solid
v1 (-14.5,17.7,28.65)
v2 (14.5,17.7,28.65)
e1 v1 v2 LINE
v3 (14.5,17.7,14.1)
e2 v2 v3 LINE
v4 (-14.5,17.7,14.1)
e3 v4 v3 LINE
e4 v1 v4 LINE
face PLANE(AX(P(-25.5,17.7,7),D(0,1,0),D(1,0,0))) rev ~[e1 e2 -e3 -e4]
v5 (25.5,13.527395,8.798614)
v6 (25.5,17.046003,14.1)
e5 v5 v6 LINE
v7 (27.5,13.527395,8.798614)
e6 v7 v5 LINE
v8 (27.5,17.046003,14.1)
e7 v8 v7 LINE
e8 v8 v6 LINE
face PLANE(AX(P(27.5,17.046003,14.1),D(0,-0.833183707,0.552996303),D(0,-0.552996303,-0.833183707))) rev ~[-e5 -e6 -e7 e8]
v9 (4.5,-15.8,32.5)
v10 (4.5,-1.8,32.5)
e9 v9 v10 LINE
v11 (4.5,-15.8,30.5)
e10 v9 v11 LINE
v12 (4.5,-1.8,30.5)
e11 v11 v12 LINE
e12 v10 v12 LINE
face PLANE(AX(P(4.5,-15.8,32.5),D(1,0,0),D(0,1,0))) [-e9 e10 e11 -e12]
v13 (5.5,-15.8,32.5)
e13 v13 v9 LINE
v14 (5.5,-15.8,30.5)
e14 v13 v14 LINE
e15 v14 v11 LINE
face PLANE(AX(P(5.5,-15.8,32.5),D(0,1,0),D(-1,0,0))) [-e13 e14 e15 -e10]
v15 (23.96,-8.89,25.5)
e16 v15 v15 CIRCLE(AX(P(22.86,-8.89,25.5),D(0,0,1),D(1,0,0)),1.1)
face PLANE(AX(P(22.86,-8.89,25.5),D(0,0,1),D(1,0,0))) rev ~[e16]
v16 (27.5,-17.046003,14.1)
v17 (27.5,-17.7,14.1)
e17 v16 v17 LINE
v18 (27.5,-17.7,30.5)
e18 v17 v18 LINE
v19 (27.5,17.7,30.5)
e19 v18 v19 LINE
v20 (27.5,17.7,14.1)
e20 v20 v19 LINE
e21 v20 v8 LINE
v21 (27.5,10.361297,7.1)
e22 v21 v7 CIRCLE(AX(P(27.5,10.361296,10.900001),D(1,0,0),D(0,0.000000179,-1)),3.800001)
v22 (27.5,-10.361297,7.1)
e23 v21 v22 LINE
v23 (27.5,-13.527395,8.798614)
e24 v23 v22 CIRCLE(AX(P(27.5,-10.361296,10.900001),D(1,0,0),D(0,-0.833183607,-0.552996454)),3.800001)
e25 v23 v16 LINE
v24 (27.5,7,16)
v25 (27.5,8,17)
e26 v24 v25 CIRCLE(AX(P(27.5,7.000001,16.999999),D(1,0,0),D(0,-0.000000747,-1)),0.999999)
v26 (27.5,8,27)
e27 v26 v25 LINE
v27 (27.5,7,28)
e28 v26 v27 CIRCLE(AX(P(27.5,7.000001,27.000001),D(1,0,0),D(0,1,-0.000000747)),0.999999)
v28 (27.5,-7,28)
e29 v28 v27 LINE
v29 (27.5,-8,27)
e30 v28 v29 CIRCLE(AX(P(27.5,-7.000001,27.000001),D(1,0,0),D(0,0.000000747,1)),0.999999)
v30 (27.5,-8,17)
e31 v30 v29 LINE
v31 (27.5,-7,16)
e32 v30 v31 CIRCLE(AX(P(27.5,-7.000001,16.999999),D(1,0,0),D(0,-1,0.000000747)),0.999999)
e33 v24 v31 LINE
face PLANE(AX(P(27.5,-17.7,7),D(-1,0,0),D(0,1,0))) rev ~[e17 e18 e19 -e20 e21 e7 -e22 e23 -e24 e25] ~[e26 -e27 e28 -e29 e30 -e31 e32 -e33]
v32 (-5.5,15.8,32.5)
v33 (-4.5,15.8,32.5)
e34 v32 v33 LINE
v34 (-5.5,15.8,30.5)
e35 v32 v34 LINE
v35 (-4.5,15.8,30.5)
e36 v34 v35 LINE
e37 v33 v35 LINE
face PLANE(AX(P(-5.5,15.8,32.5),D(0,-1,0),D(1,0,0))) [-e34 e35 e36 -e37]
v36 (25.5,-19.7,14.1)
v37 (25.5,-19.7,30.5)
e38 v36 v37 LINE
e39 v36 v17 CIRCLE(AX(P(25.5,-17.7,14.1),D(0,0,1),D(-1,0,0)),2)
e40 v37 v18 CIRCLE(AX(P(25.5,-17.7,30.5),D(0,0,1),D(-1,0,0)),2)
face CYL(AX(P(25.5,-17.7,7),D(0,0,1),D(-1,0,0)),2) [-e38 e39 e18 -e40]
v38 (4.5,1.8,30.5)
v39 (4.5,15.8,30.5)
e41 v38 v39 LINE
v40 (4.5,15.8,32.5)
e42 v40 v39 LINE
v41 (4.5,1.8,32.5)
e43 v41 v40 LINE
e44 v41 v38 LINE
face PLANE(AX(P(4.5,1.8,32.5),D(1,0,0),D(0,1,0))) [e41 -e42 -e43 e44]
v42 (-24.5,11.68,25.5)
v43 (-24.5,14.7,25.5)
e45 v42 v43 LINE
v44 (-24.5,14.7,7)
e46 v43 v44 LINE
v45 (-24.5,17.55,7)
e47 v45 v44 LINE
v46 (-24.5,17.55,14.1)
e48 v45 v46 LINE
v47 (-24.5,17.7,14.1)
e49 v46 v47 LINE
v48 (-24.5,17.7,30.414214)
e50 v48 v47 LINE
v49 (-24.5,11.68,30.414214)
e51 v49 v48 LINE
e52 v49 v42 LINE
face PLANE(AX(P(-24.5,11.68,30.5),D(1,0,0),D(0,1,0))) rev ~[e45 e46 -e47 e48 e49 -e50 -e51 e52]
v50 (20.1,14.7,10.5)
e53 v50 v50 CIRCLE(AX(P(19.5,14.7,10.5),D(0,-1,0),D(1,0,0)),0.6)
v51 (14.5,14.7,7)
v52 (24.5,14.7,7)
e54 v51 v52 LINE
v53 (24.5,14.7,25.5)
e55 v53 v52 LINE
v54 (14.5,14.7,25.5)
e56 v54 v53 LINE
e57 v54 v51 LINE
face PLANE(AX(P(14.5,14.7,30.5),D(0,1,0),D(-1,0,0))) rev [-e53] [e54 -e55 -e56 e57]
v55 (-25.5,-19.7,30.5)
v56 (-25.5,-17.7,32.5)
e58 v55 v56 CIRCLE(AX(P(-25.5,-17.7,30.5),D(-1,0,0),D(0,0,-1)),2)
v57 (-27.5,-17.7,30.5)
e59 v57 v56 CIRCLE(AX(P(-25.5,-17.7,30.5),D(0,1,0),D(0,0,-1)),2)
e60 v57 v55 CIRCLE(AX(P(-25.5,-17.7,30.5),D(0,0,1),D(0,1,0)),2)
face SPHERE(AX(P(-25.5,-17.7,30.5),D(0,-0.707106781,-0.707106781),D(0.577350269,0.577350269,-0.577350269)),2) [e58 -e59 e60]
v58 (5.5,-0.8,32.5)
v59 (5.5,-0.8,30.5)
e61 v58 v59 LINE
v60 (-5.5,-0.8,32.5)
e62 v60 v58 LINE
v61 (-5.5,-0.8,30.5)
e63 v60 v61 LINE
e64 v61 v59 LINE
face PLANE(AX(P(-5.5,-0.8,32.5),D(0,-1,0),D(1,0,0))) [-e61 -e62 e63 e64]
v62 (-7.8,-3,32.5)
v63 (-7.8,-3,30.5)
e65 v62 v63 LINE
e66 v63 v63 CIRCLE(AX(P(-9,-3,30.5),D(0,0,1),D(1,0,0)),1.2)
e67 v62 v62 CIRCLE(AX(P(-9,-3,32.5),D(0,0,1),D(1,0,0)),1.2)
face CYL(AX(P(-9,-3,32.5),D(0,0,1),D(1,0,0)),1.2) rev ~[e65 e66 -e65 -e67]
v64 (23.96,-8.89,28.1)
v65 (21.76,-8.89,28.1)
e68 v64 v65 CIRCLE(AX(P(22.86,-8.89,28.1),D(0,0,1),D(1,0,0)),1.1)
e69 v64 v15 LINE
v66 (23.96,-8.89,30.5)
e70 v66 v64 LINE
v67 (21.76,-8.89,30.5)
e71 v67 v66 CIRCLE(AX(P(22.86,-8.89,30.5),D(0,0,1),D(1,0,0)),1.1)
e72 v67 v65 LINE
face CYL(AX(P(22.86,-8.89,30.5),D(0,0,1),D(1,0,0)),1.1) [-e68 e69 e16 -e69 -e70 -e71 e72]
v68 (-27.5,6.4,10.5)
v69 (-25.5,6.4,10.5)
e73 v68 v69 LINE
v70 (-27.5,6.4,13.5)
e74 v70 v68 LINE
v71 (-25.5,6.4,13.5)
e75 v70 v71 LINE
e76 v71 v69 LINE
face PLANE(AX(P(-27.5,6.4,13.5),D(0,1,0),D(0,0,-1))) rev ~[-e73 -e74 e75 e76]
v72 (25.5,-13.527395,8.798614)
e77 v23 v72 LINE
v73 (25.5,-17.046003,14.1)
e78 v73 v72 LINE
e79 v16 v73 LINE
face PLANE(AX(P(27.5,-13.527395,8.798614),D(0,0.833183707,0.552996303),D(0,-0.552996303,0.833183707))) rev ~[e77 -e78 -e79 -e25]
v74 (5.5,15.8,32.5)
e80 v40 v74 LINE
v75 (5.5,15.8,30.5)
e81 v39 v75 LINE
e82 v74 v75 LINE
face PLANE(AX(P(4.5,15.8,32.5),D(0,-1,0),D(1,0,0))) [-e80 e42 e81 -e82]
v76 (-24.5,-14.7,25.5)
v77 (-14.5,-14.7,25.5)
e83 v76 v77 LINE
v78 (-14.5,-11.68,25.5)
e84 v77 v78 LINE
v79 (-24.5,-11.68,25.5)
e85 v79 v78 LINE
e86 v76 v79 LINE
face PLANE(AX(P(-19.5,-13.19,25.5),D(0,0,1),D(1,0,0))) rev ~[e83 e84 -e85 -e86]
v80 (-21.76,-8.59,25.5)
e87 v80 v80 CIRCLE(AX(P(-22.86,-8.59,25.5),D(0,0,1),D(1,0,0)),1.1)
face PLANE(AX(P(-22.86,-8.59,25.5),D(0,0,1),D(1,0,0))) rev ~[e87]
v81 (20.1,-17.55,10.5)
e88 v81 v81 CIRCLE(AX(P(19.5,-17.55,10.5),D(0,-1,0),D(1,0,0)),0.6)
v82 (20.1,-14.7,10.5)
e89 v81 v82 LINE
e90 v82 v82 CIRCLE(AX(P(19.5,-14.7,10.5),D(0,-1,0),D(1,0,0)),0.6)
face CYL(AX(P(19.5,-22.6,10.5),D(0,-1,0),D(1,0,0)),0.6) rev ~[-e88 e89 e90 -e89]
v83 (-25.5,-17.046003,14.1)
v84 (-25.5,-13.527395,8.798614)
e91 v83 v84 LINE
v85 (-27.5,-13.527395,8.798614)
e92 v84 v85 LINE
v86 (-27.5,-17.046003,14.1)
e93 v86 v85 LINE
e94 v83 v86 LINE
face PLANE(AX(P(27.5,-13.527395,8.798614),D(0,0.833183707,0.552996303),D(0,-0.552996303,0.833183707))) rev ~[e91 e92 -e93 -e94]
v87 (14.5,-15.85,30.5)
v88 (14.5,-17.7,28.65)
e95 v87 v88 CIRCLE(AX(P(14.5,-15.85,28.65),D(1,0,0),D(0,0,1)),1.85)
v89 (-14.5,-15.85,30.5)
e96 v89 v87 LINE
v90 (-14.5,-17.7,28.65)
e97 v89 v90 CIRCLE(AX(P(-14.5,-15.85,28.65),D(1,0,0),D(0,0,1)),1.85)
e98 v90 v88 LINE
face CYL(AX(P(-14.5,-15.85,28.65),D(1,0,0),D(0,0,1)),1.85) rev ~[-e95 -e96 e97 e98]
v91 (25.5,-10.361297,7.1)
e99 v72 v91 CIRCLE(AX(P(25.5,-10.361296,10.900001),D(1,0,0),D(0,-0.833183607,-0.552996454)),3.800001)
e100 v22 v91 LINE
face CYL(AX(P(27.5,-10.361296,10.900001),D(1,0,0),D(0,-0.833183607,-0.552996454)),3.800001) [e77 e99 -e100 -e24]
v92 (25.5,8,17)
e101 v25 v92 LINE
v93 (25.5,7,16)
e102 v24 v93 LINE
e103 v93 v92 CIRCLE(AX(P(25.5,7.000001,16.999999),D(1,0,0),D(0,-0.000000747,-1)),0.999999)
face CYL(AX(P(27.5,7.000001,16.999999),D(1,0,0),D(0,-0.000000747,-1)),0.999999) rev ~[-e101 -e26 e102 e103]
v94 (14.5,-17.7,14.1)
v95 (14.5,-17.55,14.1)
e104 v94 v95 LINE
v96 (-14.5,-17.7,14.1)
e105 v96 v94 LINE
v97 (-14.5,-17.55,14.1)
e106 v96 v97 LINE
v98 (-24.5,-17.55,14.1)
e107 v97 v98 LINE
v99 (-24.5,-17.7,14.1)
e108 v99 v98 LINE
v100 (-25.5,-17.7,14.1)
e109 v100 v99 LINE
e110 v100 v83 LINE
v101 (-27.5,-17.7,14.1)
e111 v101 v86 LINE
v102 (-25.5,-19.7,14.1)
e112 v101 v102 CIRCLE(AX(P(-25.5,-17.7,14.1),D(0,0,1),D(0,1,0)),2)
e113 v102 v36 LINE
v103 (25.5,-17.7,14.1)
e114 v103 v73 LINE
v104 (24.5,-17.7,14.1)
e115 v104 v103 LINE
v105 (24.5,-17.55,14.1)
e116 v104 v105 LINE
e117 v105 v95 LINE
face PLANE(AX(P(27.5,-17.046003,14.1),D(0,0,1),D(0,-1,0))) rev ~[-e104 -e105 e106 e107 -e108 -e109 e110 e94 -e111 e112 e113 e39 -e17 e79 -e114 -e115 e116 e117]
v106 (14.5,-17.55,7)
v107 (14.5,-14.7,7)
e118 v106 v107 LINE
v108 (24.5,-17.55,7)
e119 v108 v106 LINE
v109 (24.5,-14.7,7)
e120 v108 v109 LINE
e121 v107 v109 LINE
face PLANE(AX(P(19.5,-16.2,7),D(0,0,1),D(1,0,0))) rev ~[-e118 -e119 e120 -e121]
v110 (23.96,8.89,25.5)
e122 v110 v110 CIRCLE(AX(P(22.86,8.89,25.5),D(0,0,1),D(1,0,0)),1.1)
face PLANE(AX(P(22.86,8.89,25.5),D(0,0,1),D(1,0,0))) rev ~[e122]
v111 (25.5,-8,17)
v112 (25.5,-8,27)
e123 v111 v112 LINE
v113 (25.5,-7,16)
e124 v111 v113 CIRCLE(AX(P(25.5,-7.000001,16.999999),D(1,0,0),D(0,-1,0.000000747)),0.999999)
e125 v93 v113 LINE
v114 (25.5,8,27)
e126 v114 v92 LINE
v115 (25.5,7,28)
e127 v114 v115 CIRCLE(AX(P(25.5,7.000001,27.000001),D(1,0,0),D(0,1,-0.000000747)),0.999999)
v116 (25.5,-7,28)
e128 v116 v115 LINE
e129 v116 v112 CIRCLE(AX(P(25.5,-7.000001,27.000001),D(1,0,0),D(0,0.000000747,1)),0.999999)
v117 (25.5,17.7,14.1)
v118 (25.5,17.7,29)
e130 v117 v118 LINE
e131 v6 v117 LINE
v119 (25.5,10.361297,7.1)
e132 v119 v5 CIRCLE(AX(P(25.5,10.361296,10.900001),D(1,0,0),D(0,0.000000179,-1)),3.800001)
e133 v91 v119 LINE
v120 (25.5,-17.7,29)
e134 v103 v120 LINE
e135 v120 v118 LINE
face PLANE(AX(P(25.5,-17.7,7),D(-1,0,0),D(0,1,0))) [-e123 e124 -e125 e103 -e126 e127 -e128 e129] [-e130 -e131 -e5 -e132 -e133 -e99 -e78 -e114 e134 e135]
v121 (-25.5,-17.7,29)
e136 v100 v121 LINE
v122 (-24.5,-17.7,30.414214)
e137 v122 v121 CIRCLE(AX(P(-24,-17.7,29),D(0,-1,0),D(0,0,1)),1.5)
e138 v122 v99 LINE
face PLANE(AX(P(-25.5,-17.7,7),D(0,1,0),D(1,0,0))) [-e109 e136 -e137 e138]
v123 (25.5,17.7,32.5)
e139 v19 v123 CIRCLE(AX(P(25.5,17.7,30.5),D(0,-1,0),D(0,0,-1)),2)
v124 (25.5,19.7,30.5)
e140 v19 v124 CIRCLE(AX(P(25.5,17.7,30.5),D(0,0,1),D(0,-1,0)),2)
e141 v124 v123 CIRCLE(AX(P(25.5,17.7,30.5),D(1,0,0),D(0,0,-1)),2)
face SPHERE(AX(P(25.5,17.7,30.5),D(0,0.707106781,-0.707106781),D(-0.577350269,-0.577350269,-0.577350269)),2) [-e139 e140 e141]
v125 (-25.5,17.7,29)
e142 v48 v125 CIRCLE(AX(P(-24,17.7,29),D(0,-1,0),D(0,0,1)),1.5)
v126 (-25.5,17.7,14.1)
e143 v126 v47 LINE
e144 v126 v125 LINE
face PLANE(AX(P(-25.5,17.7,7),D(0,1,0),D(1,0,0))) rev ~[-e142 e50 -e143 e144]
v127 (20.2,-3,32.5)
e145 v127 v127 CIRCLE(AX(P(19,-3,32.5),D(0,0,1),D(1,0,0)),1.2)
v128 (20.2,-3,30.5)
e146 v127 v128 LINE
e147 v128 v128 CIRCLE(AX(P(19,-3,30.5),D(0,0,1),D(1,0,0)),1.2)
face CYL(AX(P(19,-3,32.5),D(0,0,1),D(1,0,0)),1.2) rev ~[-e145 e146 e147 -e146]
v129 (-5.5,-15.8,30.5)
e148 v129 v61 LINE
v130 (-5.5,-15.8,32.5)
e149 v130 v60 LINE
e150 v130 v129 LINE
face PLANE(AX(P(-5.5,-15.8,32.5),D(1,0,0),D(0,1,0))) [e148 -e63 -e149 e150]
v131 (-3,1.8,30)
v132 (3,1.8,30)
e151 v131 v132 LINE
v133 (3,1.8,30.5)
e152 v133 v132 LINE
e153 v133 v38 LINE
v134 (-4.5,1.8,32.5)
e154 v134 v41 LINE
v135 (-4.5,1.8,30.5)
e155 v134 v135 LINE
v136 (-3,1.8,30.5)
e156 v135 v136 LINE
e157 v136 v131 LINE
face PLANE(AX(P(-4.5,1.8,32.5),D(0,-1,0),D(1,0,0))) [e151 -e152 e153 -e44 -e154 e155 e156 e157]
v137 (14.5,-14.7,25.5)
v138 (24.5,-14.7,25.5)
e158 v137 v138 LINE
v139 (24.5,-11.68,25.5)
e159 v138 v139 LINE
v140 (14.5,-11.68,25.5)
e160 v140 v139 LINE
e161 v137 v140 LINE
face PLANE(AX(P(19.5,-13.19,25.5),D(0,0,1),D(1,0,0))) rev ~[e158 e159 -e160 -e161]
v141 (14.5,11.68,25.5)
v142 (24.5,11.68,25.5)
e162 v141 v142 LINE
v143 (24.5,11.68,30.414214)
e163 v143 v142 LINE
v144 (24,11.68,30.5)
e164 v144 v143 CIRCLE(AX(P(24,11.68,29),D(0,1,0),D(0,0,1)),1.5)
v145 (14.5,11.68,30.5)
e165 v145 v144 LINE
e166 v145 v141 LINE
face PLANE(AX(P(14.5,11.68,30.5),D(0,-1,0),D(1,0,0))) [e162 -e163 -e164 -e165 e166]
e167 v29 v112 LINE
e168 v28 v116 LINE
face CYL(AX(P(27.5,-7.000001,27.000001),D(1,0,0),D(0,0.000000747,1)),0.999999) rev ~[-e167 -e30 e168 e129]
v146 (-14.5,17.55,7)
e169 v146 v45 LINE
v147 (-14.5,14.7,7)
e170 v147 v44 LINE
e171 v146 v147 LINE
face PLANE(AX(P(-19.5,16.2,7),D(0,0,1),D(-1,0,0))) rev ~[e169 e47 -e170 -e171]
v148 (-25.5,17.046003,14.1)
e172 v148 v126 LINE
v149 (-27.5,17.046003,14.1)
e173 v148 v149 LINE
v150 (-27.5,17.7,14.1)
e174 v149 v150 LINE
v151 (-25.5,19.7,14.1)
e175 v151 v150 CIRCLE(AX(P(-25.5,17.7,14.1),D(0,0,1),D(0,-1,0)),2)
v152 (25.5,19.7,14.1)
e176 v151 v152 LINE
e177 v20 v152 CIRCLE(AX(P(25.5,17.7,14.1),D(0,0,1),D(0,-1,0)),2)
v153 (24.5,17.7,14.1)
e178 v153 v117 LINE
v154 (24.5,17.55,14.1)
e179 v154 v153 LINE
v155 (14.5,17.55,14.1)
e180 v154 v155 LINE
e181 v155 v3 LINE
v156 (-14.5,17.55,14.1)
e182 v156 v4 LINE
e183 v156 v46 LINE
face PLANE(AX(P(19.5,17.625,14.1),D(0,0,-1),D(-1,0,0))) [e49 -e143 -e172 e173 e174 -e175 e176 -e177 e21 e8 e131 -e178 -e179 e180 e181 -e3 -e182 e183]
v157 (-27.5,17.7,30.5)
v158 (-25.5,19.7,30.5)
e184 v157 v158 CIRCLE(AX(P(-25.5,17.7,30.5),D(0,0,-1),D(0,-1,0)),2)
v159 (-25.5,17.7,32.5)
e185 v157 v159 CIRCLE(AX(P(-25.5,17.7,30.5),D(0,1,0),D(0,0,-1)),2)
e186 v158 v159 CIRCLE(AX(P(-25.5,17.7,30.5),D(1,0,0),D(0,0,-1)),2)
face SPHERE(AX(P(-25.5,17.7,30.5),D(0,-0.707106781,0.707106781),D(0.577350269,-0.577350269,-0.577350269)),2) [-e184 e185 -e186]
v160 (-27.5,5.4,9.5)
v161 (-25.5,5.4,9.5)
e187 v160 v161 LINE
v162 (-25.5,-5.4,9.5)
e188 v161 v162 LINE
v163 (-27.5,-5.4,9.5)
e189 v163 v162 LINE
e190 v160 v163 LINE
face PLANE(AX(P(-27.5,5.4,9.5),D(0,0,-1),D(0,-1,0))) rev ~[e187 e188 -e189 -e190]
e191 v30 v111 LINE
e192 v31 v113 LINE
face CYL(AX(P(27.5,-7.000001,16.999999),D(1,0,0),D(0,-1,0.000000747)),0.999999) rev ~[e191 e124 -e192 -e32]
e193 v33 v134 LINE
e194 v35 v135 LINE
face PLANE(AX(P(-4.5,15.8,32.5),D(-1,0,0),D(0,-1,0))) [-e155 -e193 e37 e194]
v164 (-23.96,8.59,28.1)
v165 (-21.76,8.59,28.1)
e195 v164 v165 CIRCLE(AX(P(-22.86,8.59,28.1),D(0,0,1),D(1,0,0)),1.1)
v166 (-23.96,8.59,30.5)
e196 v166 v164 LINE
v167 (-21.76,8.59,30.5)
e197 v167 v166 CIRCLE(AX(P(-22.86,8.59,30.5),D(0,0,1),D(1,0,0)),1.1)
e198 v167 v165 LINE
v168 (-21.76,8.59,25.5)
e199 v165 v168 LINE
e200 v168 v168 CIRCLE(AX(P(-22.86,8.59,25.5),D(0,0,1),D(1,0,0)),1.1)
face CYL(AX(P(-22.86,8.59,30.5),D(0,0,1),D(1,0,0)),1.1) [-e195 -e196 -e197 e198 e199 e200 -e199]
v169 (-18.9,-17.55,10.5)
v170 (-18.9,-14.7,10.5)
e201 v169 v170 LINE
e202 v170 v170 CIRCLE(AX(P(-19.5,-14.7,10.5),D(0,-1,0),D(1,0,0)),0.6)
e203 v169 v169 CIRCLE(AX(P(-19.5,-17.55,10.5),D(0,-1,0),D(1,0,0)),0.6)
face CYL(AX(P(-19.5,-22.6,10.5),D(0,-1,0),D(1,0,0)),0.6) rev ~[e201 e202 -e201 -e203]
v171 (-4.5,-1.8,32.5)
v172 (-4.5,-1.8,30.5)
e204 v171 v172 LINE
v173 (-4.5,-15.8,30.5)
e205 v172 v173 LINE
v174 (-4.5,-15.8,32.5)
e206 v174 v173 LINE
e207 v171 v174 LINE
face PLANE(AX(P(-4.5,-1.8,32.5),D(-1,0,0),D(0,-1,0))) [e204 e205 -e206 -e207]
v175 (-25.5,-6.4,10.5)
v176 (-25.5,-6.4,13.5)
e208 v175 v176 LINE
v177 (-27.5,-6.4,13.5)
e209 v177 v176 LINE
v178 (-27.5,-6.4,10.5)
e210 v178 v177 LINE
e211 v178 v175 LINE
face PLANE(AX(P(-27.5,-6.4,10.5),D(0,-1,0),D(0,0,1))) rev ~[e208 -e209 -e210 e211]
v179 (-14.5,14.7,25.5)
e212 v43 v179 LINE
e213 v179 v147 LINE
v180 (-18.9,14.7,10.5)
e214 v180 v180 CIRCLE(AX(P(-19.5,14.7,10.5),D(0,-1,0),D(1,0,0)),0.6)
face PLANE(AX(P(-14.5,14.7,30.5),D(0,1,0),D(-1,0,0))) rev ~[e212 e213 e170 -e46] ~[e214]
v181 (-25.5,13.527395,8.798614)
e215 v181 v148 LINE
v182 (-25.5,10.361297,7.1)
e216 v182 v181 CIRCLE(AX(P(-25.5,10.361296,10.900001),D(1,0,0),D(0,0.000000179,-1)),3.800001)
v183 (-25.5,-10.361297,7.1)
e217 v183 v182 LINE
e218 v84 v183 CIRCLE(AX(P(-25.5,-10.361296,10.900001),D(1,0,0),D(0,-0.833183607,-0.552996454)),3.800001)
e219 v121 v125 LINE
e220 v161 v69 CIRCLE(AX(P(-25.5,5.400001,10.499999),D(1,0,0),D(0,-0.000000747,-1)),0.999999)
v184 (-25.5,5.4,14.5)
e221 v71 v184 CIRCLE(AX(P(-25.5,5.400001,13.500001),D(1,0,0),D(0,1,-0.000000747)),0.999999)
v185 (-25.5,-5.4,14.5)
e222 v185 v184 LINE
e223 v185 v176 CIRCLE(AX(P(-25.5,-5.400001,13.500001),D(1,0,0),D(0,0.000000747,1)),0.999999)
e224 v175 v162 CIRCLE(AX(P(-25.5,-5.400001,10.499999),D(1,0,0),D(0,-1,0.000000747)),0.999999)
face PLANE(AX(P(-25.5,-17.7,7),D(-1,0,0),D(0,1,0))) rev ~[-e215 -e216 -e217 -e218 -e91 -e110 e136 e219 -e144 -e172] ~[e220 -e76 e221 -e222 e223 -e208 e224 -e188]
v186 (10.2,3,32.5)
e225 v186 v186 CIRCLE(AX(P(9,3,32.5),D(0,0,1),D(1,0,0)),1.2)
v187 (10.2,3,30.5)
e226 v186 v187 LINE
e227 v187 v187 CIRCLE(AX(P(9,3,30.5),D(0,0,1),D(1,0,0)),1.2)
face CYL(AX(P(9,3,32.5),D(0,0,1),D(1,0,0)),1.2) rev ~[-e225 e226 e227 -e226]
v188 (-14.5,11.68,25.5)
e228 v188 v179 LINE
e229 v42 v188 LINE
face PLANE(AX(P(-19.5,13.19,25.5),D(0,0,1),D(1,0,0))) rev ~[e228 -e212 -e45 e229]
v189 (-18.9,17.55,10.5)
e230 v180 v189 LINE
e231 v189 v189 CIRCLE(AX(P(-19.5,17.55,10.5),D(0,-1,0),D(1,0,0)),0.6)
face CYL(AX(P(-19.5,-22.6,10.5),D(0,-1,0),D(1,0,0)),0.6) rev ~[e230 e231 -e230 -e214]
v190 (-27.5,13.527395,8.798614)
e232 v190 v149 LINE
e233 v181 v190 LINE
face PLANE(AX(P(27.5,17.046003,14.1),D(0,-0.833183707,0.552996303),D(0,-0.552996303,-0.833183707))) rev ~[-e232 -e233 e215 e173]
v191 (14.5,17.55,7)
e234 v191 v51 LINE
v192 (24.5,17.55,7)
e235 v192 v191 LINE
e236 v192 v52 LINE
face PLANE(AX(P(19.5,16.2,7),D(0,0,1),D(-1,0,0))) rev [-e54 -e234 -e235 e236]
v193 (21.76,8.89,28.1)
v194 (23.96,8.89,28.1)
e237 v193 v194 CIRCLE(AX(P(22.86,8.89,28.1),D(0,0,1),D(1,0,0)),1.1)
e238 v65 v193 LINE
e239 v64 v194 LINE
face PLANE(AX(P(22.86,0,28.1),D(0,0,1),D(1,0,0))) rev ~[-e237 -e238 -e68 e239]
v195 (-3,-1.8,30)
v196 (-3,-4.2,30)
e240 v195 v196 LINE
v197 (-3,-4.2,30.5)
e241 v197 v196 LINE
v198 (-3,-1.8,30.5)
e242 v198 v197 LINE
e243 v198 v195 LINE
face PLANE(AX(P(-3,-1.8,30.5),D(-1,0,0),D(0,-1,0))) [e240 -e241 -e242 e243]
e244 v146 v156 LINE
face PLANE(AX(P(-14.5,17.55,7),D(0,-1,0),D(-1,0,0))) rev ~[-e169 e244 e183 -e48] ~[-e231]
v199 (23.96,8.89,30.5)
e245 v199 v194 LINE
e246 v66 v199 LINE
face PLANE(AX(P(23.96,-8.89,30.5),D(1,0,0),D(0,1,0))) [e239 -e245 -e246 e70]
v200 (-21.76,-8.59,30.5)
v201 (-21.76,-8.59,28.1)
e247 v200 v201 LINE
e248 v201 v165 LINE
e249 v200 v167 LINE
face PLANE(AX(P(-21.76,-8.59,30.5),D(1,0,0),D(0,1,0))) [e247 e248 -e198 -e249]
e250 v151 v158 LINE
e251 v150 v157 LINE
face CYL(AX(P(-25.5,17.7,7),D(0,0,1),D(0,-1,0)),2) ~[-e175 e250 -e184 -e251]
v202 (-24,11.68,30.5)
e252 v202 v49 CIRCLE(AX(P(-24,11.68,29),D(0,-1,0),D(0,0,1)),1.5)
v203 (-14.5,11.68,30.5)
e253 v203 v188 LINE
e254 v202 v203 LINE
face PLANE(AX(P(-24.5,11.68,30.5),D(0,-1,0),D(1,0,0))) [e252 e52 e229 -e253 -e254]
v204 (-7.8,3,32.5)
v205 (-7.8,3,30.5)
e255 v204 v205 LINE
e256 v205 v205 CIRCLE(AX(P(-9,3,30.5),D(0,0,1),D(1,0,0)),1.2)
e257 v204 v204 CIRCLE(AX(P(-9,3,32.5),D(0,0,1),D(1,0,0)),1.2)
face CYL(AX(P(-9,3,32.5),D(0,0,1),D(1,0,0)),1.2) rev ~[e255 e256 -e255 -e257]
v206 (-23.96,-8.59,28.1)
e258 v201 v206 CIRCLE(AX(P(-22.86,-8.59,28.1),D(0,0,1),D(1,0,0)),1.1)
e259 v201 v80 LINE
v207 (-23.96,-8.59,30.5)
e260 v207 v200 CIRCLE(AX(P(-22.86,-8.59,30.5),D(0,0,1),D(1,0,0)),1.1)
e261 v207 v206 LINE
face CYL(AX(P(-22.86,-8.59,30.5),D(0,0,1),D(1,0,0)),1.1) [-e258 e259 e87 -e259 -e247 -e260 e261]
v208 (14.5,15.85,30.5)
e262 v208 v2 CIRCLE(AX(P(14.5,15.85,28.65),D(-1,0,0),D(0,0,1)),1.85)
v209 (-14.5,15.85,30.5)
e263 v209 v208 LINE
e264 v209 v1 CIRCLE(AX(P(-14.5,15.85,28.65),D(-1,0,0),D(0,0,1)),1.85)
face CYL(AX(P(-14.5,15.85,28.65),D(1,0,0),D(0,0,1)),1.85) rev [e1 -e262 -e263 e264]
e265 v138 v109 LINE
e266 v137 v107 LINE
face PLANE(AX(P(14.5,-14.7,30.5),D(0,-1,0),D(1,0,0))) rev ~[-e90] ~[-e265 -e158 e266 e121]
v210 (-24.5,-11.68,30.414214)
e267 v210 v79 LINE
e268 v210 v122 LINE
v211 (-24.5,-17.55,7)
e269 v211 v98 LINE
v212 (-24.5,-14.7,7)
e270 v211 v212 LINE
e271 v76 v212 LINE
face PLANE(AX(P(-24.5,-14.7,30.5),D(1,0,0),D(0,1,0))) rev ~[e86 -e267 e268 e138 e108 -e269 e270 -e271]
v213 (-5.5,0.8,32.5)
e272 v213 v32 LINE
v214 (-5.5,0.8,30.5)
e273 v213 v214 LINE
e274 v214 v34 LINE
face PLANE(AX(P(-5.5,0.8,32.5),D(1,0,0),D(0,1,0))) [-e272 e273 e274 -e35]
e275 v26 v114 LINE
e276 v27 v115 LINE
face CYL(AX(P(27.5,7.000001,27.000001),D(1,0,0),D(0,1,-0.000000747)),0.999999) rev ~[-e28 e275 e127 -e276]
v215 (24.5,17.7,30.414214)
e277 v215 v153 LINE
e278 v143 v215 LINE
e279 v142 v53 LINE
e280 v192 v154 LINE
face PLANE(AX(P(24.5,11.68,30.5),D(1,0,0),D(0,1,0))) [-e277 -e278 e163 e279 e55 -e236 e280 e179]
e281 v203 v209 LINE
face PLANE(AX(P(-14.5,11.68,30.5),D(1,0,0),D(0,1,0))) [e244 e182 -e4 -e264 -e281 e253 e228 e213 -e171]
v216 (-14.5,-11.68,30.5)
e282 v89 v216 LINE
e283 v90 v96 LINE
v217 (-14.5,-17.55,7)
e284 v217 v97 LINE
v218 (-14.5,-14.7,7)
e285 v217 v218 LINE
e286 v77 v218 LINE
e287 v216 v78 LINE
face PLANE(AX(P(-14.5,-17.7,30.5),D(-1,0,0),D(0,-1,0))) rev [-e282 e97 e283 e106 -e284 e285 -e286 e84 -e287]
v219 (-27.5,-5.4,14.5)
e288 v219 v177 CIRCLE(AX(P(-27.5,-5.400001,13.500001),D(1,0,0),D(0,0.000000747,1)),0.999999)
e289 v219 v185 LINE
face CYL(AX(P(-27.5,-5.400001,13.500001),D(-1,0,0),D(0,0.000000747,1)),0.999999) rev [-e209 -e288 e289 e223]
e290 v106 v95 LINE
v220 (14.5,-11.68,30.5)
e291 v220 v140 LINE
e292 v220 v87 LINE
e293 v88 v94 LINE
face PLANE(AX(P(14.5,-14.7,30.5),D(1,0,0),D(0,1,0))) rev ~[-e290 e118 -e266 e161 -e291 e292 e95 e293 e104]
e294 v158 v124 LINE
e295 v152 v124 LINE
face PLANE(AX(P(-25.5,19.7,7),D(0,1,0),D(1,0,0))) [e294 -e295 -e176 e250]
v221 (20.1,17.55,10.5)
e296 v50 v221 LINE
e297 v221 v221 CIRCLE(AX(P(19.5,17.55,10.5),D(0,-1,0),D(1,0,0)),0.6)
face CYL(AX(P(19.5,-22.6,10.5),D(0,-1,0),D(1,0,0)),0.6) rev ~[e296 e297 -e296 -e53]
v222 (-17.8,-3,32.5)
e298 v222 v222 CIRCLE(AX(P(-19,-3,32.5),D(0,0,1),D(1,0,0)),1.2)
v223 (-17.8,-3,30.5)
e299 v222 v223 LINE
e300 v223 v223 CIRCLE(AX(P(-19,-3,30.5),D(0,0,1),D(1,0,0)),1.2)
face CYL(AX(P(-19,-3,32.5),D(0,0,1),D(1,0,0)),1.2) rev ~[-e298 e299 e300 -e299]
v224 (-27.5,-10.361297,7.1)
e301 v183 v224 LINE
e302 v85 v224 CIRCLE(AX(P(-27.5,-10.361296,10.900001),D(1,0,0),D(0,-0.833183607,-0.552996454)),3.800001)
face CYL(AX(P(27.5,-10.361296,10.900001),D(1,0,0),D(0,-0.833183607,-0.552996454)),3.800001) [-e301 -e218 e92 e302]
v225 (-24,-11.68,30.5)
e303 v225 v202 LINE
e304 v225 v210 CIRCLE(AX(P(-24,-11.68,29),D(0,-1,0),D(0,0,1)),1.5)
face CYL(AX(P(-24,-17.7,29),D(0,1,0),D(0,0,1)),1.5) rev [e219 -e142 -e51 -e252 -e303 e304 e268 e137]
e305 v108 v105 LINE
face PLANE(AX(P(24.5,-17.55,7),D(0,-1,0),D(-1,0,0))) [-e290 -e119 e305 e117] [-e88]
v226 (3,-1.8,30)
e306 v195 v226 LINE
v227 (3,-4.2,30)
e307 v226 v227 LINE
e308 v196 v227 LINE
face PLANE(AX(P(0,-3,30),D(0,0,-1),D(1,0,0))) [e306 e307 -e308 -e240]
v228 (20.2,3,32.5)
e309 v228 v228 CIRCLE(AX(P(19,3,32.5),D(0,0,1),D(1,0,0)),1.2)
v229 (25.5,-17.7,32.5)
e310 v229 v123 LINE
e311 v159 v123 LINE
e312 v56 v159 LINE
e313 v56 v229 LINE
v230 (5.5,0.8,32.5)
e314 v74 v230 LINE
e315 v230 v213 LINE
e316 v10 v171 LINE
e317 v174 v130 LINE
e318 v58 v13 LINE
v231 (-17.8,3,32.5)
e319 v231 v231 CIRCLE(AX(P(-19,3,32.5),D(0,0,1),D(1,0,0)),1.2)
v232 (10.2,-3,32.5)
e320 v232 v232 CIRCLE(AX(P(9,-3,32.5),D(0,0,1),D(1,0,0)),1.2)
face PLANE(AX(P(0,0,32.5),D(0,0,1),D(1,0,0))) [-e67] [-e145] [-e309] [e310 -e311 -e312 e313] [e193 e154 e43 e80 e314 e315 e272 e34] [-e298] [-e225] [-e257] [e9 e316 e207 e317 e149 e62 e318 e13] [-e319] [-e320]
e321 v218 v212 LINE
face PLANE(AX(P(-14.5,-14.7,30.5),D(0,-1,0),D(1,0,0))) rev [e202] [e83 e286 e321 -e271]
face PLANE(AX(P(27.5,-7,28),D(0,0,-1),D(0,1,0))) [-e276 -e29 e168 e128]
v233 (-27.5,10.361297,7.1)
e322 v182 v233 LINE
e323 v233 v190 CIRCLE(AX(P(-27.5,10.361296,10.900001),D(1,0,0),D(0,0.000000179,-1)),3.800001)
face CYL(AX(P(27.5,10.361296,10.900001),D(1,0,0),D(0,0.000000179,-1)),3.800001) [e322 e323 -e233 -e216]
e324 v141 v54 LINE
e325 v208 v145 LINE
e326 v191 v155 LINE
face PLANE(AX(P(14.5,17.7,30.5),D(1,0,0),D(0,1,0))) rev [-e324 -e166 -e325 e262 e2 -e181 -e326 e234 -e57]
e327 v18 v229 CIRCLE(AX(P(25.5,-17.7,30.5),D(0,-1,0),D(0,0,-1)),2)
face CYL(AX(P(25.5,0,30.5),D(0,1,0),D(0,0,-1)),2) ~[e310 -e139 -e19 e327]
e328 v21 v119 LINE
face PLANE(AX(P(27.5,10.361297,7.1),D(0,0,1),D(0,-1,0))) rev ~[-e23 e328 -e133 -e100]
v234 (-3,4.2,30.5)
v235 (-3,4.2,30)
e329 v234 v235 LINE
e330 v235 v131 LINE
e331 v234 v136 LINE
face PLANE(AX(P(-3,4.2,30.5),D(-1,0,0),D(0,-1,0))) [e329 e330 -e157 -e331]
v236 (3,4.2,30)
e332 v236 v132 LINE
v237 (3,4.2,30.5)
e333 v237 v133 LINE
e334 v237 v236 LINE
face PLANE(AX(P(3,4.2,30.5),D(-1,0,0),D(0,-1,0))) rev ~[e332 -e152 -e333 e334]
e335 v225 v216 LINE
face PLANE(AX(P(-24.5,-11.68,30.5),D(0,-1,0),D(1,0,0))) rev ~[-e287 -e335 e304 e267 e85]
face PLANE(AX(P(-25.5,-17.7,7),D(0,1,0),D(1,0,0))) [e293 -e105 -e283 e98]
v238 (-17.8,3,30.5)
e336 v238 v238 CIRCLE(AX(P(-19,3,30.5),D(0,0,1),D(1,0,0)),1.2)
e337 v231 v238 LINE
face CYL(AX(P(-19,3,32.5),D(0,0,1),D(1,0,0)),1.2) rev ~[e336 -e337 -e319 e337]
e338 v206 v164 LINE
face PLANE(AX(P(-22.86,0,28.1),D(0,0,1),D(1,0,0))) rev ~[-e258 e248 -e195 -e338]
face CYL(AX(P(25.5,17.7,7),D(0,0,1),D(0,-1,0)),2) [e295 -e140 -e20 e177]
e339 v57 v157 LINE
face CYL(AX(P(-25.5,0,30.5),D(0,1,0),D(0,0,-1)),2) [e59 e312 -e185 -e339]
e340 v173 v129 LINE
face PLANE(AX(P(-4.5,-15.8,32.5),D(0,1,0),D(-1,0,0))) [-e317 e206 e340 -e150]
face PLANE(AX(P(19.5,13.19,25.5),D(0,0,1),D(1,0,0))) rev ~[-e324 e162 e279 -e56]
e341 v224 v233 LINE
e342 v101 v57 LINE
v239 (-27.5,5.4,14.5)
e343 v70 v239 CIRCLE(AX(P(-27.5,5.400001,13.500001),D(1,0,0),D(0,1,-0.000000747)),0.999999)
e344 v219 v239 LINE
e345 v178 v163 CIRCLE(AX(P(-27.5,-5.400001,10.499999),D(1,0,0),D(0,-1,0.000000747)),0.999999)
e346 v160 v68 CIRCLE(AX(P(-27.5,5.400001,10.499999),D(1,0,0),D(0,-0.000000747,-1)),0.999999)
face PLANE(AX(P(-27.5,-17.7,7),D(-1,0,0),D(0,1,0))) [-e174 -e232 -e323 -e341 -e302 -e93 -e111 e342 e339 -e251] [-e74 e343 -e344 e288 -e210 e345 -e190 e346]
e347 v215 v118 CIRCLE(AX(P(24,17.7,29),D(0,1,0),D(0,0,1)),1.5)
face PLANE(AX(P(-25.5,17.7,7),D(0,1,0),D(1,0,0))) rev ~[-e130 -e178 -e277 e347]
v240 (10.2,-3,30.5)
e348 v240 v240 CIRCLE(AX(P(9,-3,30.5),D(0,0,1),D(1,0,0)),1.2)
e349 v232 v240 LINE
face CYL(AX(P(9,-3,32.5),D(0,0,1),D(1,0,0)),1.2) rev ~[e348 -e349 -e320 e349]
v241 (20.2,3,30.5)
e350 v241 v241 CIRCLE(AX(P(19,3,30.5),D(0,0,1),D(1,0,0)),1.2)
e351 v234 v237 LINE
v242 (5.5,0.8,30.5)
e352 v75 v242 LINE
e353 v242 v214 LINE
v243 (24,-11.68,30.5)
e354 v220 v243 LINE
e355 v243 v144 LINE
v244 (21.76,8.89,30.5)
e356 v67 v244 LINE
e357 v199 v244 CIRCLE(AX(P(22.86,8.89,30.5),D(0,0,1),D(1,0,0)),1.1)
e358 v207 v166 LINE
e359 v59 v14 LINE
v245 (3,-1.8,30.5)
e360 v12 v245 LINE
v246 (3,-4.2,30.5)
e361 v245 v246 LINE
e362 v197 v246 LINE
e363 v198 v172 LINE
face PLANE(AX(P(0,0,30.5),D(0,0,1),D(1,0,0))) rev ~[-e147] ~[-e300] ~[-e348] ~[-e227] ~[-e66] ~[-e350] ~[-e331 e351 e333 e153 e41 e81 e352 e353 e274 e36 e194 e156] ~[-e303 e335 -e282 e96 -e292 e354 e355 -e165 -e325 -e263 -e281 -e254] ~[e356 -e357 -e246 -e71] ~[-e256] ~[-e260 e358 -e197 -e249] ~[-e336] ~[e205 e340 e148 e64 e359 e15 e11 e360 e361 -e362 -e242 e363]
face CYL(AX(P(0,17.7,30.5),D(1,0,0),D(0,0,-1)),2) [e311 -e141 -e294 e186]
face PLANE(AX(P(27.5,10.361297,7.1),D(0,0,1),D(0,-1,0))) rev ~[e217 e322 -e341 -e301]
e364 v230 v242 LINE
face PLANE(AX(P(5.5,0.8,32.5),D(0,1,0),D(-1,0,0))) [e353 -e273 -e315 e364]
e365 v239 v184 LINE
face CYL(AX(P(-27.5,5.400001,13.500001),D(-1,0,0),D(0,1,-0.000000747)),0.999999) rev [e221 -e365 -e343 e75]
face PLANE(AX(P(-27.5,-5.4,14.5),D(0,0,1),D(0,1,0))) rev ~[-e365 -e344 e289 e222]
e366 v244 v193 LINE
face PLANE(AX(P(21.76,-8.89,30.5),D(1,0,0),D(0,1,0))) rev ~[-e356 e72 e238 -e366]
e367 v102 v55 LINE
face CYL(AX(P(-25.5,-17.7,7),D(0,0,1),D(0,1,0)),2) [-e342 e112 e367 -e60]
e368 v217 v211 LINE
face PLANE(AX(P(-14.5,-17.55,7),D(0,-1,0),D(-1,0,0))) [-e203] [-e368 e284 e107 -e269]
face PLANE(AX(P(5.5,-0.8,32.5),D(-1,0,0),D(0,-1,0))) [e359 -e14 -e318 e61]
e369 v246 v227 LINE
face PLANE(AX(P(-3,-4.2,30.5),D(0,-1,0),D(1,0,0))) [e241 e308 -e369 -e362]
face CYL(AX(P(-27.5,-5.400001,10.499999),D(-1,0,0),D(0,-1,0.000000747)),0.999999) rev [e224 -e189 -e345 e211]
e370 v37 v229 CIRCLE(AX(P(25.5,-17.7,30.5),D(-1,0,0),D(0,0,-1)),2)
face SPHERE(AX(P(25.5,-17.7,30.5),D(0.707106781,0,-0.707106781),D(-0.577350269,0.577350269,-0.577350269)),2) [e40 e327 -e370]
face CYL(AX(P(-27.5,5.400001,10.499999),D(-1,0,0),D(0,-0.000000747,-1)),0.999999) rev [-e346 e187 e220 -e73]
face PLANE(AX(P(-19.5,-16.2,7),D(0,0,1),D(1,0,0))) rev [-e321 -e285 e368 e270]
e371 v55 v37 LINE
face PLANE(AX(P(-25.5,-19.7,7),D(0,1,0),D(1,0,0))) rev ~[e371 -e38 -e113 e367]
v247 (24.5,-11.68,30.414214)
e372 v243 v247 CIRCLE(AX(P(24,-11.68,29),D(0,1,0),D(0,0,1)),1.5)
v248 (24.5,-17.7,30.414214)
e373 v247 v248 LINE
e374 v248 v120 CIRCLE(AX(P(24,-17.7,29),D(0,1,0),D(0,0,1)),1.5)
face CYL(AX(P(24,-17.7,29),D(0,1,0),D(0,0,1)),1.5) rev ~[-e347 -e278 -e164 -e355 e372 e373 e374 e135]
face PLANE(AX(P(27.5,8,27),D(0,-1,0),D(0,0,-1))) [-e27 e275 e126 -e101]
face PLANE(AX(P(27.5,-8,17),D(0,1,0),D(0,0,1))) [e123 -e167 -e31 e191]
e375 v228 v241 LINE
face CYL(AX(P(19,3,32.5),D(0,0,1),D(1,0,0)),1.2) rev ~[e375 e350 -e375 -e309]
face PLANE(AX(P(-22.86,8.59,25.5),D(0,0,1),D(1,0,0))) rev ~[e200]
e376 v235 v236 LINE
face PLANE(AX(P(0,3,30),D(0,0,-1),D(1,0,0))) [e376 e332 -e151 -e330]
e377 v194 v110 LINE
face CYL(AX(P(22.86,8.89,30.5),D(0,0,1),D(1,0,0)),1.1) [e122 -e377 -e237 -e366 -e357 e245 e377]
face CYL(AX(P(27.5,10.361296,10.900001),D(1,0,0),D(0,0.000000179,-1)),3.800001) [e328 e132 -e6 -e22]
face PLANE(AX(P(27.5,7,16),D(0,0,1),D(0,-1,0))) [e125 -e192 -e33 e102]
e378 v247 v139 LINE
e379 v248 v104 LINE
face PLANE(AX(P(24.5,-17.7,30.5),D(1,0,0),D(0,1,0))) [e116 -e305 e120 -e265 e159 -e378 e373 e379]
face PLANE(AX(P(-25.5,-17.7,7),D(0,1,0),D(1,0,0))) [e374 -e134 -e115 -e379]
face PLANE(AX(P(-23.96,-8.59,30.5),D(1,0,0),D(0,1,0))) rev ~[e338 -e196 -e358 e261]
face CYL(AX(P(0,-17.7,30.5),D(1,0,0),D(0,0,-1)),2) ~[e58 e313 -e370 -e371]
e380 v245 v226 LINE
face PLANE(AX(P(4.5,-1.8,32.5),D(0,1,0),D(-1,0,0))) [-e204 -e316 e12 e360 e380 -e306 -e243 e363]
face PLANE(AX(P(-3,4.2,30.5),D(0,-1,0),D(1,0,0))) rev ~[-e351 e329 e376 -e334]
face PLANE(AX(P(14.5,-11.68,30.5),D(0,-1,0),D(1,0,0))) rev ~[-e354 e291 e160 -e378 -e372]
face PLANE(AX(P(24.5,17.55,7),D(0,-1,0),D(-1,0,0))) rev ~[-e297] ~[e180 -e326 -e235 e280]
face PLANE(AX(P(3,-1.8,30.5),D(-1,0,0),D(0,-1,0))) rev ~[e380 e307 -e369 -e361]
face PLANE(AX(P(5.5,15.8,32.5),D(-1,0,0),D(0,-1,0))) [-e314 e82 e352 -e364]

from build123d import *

# Parameters (mm, degrees)
SKETCH004_W                 = 51
SKETCH004_H                 = 35.4
PAD002_DEPTH                = 23.5
THICKNESS001_T              = 2
POCKET002_DEPTH             = 55.001
POCKET003_DEPTH             = 2
POCKET004_DEPTH             = 2
POCKET005_DEPTH             = 2
SKETCH009_W                 = 6
SKETCH009_H                 = 2.4
PAD003_DEPTH                = 0.5
SKETCH010_R                 = 1.2
POCKET006_DEPTH             = 2
SKETCH011_W                 = 10
SKETCH011_H                 = 3
PAD004_DEPTH                = 23.5
SKETCH011_POLARPATTERN_2_W  = 10
SKETCH011_POLARPATTERN_2_H  = 3
PAD004_POLARPATTERN_2_DEPTH = 23.5
SKETCH022_W                 = 10
SKETCH022_H                 = 0.15
POCKET013_DEPTH             = 7.1
SKETCH013_R                 = 1.1
SKETCH013_W                 = 10
SKETCH013_H                 = 3.02
PAD005_DEPTH                = 5
SKETCH014_W                 = 2.2
SKETCH014_H                 = 17.18
SKETCH014_H_2               = 17.78
PAD006_DEPTH                = 2.4
SKETCH019_R                 = 0.6
POCKET010_DEPTH             = 42.301
FILLET001_R                 = 1.85
FILLET002_R                 = 1.5


with BuildPart() as part:
    # Sketch004 → Pad002 (new body)
    with BuildSketch(Plane.XY):
        Rectangle(SKETCH004_W, SKETCH004_H)
    extrude(amount=PAD002_DEPTH)

    # Thickness001
    thickness001_openings = [part.faces().sort_by_distance(p)[0] for p in [
        (0, 0, 0),
    ]]
    offset(amount=THICKNESS001_T, openings=thickness001_openings)

    # Sketch005 (on DatumPlane) → Pocket002 (cut, through all)
    with BuildSketch(Plane.YZ.offset(27.5)):
        with BuildLine():
            Line((17.046003, 7.1), (13.527395, 1.798614))
            ThreePointArc((10.361297, 0.1), (12.157784, 0.551473), (13.527395, 1.798614))
            Line((10.361297, 0.1), (-10.361297, 0.1))
            ThreePointArc((-13.527395, 1.798614), (-12.157784, 0.551473), (-10.361297, 0.1))
            Line((-13.527395, 1.798614), (-17.046003, 7.1))
            Line((-17.046003, 7.1), (-40, 7.1))
            Line((-40, 7.1), (-40, -32.9))
            Line((-40, -32.9), (40, -32.9))
            Line((40, -32.9), (40, 7.1))
            Line((40, 7.1), (17.046003, 7.1))
        make_face()
    extrude(amount=-POCKET002_DEPTH, mode=Mode.SUBTRACT)

    # Sketch006 (on DatumPlane) → Pocket003 (cut)
    with BuildSketch(Plane.YZ.offset(-27.5)):
        with BuildLine():
            ThreePointArc((6.4, 6.5), (6.107107, 7.207107), (5.4, 7.5))
            Line((-5.4, 7.5), (5.4, 7.5))
            ThreePointArc((-5.4, 7.5), (-6.107107, 7.207107), (-6.4, 6.5))
            Line((-6.4, 3.5), (-6.4, 6.5))
            ThreePointArc((-6.4, 3.5), (-6.107107, 2.792893), (-5.4, 2.5))
            Line((5.4, 2.5), (-5.4, 2.5))
            ThreePointArc((5.4, 2.5), (6.107107, 2.792893), (6.4, 3.5))
            Line((6.4, 6.5), (6.4, 3.5))
        make_face()
    extrude(amount=POCKET003_DEPTH, mode=Mode.SUBTRACT)

    # Sketch007 (on DatumPlane) → Pocket004 (cut)
    with BuildSketch(Plane.YZ.offset(27.5)):
        with BuildLine():
            ThreePointArc((-7, 21), (-7.707107, 20.707107), (-8, 20))
            Line((-8, 10), (-8, 20))
            ThreePointArc((-8, 10), (-7.707107, 9.292893), (-7, 9))
            Line((7, 9), (-7, 9))
            ThreePointArc((7, 9), (7.707107, 9.292893), (8, 10))
            Line((8, 20), (8, 10))
            ThreePointArc((8, 20), (7.707107, 20.707107), (7, 21))
            Line((-7, 21), (7, 21))
        make_face()
    extrude(amount=-POCKET004_DEPTH, mode=Mode.SUBTRACT)

    # Sketch008 (on DatumPlane) → Pocket005 (cut)
    with BuildSketch(Plane.XY.offset(25.5)):
        Polygon((-5.5, 15.8), (-4.5, 15.8), (-4.5, 1.8), (4.5, 1.8), (4.5, 15.8), (5.5, 15.8), (5.5, 0.8), (-5.5, 0.8), align=None)
        Polygon((-5.5, -0.8), (5.5, -0.8), (5.5, -15.8), (4.5, -15.8), (4.5, -1.8), (-4.5, -1.8), (-4.5, -15.8), (-5.5, -15.8), align=None)
    extrude(amount=-POCKET005_DEPTH, mode=Mode.SUBTRACT)

    # Sketch009 (on Face4 of Pocket005) → Pad003 (join)
    with BuildSketch(Plane(origin=(0, 0, 23.5), x_dir=(1, 0, 0), z_dir=(0, 0, -1))):
        with Locations((0, -3)):
            Rectangle(SKETCH009_W, SKETCH009_H)
        with Locations((0, 3)):
            Rectangle(SKETCH009_W, SKETCH009_H)
    extrude(amount=PAD003_DEPTH)

    # Sketch010 (on DatumPlane) → Pocket006 (cut)
    with BuildSketch(Plane.XY.offset(25.5)):
        with Locations((19, 3)):
            Circle(SKETCH010_R)
        with Locations((9, 3)):
            Circle(SKETCH010_R)
        with Locations((-9, 3)):
            Circle(SKETCH010_R)
        with Locations((-19, 3)):
            Circle(SKETCH010_R)
        with Locations((-19, -3)):
            Circle(SKETCH010_R)
        with Locations((-9, -3)):
            Circle(SKETCH010_R)
        with Locations((9, -3)):
            Circle(SKETCH010_R)
        with Locations((19, -3)):
            Circle(SKETCH010_R)
    extrude(amount=-POCKET006_DEPTH, mode=Mode.SUBTRACT)

    # Sketch011 (on DatumPlane) → Pad004 (join)
    with BuildSketch(Plane.XY.offset(23.5)):
        with Locations((19.5, -16.2)):
            Rectangle(SKETCH011_W, SKETCH011_H)
    pad004 = extrude(amount=-PAD004_DEPTH)

    # Sketch011 PolarPattern 2 → Pad004 PolarPattern 2 (add)
    with BuildSketch(Plane(origin=(0, 0, 23.5), x_dir=(-1, 0, 0), z_dir=(0, 0, 1))):
        with Locations((19.5, -16.2)):
            Rectangle(SKETCH011_POLARPATTERN_2_W, SKETCH011_POLARPATTERN_2_H)
    pad004_polarpattern_2 = extrude(amount=-PAD004_POLARPATTERN_2_DEPTH)

    # Mirrored: Pad004, Pad004 PolarPattern 2 across Sketch011 V_Axis
    add(pad004.mirror(Plane(origin=(0, 0, 23.5), x_dir=(0, 0, 1), z_dir=(1, 0, 0))))
    add(pad004_polarpattern_2.mirror(Plane(origin=(0, 0, 23.5), x_dir=(0, 0, 1), z_dir=(1, 0, 0))))

    # Sketch022 (on DatumPlane) → Pocket013 (cut)
    with BuildSketch(Plane(origin=(0, 0, 0), x_dir=(-1, 0, 0), z_dir=(0, 0, -1))):
        with Locations((19.5, -17.625)):
            Rectangle(SKETCH022_W, SKETCH022_H)
        with Locations((-19.5, -17.625)):
            Rectangle(SKETCH022_W, SKETCH022_H)
        with Locations((19.5, 17.625)):
            Rectangle(SKETCH022_W, SKETCH022_H)
        with Locations((-19.5, 17.625)):
            Rectangle(SKETCH022_W, SKETCH022_H)
    extrude(amount=-POCKET013_DEPTH, mode=Mode.SUBTRACT)

    # Sketch013 (on DatumPlane) → Pad005 (join)
    with BuildSketch(Plane.XY.offset(23.5)):
        with Locations((-22.86, -8.59)):
            Circle(SKETCH013_R)
        with Locations((22.86, -8.89)):
            Circle(SKETCH013_R)
        with Locations((22.86, 8.89)):
            Circle(SKETCH013_R)
        with Locations((-22.86, 8.59)):
            Circle(SKETCH013_R)
        with Locations((-19.5, 13.19)):
            Rectangle(SKETCH013_W, SKETCH013_H)
        with Locations((-19.5, -13.19)):
            Rectangle(SKETCH013_W, SKETCH013_H)
        with Locations((19.5, -13.19)):
            Rectangle(SKETCH013_W, SKETCH013_H)
        with Locations((19.5, 13.19)):
            Rectangle(SKETCH013_W, SKETCH013_H)
    extrude(amount=-PAD005_DEPTH)

    # Sketch014 (on DatumPlane) → Pad006 (join)
    with BuildSketch(Plane.XY.offset(23.5)):
        with Locations((-22.86, 0)):
            Rectangle(SKETCH014_W, SKETCH014_H)
        with Locations((22.86, 0)):
            Rectangle(SKETCH014_W, SKETCH014_H_2)
    extrude(amount=-PAD006_DEPTH)

    # Sketch019 (on DatumPlane) → Pocket010 (cut, through all)
    with BuildSketch(Plane.XZ.offset(22.6)):
        with Locations((-19.5, 3.5)):
            Circle(SKETCH019_R)
        with Locations((19.5, 3.5)):
            Circle(SKETCH019_R)
    extrude(amount=-POCKET010_DEPTH, mode=Mode.SUBTRACT)

    # Fillet001
    fillet001_edges = [part.edges().sort_by_distance(p)[0] for p in [
        (0, -17.7, 23.5),
        (0, 17.7, 23.5),
    ]]
    fillet(fillet001_edges, radius=FILLET001_R)

    # Fillet002
    fillet002_edges = [part.edges().sort_by_distance(p)[0] for p in [
        (-25.5, 0, 23.5),
        (25.5, 0, 23.5),
    ]]
    fillet(fillet002_edges, radius=FILLET002_R)


with BuildPart() as part_1:
    # Body002 placement: moved
    add(part.part.moved(Location((0, 0, 7))))


solid = part_1.part
